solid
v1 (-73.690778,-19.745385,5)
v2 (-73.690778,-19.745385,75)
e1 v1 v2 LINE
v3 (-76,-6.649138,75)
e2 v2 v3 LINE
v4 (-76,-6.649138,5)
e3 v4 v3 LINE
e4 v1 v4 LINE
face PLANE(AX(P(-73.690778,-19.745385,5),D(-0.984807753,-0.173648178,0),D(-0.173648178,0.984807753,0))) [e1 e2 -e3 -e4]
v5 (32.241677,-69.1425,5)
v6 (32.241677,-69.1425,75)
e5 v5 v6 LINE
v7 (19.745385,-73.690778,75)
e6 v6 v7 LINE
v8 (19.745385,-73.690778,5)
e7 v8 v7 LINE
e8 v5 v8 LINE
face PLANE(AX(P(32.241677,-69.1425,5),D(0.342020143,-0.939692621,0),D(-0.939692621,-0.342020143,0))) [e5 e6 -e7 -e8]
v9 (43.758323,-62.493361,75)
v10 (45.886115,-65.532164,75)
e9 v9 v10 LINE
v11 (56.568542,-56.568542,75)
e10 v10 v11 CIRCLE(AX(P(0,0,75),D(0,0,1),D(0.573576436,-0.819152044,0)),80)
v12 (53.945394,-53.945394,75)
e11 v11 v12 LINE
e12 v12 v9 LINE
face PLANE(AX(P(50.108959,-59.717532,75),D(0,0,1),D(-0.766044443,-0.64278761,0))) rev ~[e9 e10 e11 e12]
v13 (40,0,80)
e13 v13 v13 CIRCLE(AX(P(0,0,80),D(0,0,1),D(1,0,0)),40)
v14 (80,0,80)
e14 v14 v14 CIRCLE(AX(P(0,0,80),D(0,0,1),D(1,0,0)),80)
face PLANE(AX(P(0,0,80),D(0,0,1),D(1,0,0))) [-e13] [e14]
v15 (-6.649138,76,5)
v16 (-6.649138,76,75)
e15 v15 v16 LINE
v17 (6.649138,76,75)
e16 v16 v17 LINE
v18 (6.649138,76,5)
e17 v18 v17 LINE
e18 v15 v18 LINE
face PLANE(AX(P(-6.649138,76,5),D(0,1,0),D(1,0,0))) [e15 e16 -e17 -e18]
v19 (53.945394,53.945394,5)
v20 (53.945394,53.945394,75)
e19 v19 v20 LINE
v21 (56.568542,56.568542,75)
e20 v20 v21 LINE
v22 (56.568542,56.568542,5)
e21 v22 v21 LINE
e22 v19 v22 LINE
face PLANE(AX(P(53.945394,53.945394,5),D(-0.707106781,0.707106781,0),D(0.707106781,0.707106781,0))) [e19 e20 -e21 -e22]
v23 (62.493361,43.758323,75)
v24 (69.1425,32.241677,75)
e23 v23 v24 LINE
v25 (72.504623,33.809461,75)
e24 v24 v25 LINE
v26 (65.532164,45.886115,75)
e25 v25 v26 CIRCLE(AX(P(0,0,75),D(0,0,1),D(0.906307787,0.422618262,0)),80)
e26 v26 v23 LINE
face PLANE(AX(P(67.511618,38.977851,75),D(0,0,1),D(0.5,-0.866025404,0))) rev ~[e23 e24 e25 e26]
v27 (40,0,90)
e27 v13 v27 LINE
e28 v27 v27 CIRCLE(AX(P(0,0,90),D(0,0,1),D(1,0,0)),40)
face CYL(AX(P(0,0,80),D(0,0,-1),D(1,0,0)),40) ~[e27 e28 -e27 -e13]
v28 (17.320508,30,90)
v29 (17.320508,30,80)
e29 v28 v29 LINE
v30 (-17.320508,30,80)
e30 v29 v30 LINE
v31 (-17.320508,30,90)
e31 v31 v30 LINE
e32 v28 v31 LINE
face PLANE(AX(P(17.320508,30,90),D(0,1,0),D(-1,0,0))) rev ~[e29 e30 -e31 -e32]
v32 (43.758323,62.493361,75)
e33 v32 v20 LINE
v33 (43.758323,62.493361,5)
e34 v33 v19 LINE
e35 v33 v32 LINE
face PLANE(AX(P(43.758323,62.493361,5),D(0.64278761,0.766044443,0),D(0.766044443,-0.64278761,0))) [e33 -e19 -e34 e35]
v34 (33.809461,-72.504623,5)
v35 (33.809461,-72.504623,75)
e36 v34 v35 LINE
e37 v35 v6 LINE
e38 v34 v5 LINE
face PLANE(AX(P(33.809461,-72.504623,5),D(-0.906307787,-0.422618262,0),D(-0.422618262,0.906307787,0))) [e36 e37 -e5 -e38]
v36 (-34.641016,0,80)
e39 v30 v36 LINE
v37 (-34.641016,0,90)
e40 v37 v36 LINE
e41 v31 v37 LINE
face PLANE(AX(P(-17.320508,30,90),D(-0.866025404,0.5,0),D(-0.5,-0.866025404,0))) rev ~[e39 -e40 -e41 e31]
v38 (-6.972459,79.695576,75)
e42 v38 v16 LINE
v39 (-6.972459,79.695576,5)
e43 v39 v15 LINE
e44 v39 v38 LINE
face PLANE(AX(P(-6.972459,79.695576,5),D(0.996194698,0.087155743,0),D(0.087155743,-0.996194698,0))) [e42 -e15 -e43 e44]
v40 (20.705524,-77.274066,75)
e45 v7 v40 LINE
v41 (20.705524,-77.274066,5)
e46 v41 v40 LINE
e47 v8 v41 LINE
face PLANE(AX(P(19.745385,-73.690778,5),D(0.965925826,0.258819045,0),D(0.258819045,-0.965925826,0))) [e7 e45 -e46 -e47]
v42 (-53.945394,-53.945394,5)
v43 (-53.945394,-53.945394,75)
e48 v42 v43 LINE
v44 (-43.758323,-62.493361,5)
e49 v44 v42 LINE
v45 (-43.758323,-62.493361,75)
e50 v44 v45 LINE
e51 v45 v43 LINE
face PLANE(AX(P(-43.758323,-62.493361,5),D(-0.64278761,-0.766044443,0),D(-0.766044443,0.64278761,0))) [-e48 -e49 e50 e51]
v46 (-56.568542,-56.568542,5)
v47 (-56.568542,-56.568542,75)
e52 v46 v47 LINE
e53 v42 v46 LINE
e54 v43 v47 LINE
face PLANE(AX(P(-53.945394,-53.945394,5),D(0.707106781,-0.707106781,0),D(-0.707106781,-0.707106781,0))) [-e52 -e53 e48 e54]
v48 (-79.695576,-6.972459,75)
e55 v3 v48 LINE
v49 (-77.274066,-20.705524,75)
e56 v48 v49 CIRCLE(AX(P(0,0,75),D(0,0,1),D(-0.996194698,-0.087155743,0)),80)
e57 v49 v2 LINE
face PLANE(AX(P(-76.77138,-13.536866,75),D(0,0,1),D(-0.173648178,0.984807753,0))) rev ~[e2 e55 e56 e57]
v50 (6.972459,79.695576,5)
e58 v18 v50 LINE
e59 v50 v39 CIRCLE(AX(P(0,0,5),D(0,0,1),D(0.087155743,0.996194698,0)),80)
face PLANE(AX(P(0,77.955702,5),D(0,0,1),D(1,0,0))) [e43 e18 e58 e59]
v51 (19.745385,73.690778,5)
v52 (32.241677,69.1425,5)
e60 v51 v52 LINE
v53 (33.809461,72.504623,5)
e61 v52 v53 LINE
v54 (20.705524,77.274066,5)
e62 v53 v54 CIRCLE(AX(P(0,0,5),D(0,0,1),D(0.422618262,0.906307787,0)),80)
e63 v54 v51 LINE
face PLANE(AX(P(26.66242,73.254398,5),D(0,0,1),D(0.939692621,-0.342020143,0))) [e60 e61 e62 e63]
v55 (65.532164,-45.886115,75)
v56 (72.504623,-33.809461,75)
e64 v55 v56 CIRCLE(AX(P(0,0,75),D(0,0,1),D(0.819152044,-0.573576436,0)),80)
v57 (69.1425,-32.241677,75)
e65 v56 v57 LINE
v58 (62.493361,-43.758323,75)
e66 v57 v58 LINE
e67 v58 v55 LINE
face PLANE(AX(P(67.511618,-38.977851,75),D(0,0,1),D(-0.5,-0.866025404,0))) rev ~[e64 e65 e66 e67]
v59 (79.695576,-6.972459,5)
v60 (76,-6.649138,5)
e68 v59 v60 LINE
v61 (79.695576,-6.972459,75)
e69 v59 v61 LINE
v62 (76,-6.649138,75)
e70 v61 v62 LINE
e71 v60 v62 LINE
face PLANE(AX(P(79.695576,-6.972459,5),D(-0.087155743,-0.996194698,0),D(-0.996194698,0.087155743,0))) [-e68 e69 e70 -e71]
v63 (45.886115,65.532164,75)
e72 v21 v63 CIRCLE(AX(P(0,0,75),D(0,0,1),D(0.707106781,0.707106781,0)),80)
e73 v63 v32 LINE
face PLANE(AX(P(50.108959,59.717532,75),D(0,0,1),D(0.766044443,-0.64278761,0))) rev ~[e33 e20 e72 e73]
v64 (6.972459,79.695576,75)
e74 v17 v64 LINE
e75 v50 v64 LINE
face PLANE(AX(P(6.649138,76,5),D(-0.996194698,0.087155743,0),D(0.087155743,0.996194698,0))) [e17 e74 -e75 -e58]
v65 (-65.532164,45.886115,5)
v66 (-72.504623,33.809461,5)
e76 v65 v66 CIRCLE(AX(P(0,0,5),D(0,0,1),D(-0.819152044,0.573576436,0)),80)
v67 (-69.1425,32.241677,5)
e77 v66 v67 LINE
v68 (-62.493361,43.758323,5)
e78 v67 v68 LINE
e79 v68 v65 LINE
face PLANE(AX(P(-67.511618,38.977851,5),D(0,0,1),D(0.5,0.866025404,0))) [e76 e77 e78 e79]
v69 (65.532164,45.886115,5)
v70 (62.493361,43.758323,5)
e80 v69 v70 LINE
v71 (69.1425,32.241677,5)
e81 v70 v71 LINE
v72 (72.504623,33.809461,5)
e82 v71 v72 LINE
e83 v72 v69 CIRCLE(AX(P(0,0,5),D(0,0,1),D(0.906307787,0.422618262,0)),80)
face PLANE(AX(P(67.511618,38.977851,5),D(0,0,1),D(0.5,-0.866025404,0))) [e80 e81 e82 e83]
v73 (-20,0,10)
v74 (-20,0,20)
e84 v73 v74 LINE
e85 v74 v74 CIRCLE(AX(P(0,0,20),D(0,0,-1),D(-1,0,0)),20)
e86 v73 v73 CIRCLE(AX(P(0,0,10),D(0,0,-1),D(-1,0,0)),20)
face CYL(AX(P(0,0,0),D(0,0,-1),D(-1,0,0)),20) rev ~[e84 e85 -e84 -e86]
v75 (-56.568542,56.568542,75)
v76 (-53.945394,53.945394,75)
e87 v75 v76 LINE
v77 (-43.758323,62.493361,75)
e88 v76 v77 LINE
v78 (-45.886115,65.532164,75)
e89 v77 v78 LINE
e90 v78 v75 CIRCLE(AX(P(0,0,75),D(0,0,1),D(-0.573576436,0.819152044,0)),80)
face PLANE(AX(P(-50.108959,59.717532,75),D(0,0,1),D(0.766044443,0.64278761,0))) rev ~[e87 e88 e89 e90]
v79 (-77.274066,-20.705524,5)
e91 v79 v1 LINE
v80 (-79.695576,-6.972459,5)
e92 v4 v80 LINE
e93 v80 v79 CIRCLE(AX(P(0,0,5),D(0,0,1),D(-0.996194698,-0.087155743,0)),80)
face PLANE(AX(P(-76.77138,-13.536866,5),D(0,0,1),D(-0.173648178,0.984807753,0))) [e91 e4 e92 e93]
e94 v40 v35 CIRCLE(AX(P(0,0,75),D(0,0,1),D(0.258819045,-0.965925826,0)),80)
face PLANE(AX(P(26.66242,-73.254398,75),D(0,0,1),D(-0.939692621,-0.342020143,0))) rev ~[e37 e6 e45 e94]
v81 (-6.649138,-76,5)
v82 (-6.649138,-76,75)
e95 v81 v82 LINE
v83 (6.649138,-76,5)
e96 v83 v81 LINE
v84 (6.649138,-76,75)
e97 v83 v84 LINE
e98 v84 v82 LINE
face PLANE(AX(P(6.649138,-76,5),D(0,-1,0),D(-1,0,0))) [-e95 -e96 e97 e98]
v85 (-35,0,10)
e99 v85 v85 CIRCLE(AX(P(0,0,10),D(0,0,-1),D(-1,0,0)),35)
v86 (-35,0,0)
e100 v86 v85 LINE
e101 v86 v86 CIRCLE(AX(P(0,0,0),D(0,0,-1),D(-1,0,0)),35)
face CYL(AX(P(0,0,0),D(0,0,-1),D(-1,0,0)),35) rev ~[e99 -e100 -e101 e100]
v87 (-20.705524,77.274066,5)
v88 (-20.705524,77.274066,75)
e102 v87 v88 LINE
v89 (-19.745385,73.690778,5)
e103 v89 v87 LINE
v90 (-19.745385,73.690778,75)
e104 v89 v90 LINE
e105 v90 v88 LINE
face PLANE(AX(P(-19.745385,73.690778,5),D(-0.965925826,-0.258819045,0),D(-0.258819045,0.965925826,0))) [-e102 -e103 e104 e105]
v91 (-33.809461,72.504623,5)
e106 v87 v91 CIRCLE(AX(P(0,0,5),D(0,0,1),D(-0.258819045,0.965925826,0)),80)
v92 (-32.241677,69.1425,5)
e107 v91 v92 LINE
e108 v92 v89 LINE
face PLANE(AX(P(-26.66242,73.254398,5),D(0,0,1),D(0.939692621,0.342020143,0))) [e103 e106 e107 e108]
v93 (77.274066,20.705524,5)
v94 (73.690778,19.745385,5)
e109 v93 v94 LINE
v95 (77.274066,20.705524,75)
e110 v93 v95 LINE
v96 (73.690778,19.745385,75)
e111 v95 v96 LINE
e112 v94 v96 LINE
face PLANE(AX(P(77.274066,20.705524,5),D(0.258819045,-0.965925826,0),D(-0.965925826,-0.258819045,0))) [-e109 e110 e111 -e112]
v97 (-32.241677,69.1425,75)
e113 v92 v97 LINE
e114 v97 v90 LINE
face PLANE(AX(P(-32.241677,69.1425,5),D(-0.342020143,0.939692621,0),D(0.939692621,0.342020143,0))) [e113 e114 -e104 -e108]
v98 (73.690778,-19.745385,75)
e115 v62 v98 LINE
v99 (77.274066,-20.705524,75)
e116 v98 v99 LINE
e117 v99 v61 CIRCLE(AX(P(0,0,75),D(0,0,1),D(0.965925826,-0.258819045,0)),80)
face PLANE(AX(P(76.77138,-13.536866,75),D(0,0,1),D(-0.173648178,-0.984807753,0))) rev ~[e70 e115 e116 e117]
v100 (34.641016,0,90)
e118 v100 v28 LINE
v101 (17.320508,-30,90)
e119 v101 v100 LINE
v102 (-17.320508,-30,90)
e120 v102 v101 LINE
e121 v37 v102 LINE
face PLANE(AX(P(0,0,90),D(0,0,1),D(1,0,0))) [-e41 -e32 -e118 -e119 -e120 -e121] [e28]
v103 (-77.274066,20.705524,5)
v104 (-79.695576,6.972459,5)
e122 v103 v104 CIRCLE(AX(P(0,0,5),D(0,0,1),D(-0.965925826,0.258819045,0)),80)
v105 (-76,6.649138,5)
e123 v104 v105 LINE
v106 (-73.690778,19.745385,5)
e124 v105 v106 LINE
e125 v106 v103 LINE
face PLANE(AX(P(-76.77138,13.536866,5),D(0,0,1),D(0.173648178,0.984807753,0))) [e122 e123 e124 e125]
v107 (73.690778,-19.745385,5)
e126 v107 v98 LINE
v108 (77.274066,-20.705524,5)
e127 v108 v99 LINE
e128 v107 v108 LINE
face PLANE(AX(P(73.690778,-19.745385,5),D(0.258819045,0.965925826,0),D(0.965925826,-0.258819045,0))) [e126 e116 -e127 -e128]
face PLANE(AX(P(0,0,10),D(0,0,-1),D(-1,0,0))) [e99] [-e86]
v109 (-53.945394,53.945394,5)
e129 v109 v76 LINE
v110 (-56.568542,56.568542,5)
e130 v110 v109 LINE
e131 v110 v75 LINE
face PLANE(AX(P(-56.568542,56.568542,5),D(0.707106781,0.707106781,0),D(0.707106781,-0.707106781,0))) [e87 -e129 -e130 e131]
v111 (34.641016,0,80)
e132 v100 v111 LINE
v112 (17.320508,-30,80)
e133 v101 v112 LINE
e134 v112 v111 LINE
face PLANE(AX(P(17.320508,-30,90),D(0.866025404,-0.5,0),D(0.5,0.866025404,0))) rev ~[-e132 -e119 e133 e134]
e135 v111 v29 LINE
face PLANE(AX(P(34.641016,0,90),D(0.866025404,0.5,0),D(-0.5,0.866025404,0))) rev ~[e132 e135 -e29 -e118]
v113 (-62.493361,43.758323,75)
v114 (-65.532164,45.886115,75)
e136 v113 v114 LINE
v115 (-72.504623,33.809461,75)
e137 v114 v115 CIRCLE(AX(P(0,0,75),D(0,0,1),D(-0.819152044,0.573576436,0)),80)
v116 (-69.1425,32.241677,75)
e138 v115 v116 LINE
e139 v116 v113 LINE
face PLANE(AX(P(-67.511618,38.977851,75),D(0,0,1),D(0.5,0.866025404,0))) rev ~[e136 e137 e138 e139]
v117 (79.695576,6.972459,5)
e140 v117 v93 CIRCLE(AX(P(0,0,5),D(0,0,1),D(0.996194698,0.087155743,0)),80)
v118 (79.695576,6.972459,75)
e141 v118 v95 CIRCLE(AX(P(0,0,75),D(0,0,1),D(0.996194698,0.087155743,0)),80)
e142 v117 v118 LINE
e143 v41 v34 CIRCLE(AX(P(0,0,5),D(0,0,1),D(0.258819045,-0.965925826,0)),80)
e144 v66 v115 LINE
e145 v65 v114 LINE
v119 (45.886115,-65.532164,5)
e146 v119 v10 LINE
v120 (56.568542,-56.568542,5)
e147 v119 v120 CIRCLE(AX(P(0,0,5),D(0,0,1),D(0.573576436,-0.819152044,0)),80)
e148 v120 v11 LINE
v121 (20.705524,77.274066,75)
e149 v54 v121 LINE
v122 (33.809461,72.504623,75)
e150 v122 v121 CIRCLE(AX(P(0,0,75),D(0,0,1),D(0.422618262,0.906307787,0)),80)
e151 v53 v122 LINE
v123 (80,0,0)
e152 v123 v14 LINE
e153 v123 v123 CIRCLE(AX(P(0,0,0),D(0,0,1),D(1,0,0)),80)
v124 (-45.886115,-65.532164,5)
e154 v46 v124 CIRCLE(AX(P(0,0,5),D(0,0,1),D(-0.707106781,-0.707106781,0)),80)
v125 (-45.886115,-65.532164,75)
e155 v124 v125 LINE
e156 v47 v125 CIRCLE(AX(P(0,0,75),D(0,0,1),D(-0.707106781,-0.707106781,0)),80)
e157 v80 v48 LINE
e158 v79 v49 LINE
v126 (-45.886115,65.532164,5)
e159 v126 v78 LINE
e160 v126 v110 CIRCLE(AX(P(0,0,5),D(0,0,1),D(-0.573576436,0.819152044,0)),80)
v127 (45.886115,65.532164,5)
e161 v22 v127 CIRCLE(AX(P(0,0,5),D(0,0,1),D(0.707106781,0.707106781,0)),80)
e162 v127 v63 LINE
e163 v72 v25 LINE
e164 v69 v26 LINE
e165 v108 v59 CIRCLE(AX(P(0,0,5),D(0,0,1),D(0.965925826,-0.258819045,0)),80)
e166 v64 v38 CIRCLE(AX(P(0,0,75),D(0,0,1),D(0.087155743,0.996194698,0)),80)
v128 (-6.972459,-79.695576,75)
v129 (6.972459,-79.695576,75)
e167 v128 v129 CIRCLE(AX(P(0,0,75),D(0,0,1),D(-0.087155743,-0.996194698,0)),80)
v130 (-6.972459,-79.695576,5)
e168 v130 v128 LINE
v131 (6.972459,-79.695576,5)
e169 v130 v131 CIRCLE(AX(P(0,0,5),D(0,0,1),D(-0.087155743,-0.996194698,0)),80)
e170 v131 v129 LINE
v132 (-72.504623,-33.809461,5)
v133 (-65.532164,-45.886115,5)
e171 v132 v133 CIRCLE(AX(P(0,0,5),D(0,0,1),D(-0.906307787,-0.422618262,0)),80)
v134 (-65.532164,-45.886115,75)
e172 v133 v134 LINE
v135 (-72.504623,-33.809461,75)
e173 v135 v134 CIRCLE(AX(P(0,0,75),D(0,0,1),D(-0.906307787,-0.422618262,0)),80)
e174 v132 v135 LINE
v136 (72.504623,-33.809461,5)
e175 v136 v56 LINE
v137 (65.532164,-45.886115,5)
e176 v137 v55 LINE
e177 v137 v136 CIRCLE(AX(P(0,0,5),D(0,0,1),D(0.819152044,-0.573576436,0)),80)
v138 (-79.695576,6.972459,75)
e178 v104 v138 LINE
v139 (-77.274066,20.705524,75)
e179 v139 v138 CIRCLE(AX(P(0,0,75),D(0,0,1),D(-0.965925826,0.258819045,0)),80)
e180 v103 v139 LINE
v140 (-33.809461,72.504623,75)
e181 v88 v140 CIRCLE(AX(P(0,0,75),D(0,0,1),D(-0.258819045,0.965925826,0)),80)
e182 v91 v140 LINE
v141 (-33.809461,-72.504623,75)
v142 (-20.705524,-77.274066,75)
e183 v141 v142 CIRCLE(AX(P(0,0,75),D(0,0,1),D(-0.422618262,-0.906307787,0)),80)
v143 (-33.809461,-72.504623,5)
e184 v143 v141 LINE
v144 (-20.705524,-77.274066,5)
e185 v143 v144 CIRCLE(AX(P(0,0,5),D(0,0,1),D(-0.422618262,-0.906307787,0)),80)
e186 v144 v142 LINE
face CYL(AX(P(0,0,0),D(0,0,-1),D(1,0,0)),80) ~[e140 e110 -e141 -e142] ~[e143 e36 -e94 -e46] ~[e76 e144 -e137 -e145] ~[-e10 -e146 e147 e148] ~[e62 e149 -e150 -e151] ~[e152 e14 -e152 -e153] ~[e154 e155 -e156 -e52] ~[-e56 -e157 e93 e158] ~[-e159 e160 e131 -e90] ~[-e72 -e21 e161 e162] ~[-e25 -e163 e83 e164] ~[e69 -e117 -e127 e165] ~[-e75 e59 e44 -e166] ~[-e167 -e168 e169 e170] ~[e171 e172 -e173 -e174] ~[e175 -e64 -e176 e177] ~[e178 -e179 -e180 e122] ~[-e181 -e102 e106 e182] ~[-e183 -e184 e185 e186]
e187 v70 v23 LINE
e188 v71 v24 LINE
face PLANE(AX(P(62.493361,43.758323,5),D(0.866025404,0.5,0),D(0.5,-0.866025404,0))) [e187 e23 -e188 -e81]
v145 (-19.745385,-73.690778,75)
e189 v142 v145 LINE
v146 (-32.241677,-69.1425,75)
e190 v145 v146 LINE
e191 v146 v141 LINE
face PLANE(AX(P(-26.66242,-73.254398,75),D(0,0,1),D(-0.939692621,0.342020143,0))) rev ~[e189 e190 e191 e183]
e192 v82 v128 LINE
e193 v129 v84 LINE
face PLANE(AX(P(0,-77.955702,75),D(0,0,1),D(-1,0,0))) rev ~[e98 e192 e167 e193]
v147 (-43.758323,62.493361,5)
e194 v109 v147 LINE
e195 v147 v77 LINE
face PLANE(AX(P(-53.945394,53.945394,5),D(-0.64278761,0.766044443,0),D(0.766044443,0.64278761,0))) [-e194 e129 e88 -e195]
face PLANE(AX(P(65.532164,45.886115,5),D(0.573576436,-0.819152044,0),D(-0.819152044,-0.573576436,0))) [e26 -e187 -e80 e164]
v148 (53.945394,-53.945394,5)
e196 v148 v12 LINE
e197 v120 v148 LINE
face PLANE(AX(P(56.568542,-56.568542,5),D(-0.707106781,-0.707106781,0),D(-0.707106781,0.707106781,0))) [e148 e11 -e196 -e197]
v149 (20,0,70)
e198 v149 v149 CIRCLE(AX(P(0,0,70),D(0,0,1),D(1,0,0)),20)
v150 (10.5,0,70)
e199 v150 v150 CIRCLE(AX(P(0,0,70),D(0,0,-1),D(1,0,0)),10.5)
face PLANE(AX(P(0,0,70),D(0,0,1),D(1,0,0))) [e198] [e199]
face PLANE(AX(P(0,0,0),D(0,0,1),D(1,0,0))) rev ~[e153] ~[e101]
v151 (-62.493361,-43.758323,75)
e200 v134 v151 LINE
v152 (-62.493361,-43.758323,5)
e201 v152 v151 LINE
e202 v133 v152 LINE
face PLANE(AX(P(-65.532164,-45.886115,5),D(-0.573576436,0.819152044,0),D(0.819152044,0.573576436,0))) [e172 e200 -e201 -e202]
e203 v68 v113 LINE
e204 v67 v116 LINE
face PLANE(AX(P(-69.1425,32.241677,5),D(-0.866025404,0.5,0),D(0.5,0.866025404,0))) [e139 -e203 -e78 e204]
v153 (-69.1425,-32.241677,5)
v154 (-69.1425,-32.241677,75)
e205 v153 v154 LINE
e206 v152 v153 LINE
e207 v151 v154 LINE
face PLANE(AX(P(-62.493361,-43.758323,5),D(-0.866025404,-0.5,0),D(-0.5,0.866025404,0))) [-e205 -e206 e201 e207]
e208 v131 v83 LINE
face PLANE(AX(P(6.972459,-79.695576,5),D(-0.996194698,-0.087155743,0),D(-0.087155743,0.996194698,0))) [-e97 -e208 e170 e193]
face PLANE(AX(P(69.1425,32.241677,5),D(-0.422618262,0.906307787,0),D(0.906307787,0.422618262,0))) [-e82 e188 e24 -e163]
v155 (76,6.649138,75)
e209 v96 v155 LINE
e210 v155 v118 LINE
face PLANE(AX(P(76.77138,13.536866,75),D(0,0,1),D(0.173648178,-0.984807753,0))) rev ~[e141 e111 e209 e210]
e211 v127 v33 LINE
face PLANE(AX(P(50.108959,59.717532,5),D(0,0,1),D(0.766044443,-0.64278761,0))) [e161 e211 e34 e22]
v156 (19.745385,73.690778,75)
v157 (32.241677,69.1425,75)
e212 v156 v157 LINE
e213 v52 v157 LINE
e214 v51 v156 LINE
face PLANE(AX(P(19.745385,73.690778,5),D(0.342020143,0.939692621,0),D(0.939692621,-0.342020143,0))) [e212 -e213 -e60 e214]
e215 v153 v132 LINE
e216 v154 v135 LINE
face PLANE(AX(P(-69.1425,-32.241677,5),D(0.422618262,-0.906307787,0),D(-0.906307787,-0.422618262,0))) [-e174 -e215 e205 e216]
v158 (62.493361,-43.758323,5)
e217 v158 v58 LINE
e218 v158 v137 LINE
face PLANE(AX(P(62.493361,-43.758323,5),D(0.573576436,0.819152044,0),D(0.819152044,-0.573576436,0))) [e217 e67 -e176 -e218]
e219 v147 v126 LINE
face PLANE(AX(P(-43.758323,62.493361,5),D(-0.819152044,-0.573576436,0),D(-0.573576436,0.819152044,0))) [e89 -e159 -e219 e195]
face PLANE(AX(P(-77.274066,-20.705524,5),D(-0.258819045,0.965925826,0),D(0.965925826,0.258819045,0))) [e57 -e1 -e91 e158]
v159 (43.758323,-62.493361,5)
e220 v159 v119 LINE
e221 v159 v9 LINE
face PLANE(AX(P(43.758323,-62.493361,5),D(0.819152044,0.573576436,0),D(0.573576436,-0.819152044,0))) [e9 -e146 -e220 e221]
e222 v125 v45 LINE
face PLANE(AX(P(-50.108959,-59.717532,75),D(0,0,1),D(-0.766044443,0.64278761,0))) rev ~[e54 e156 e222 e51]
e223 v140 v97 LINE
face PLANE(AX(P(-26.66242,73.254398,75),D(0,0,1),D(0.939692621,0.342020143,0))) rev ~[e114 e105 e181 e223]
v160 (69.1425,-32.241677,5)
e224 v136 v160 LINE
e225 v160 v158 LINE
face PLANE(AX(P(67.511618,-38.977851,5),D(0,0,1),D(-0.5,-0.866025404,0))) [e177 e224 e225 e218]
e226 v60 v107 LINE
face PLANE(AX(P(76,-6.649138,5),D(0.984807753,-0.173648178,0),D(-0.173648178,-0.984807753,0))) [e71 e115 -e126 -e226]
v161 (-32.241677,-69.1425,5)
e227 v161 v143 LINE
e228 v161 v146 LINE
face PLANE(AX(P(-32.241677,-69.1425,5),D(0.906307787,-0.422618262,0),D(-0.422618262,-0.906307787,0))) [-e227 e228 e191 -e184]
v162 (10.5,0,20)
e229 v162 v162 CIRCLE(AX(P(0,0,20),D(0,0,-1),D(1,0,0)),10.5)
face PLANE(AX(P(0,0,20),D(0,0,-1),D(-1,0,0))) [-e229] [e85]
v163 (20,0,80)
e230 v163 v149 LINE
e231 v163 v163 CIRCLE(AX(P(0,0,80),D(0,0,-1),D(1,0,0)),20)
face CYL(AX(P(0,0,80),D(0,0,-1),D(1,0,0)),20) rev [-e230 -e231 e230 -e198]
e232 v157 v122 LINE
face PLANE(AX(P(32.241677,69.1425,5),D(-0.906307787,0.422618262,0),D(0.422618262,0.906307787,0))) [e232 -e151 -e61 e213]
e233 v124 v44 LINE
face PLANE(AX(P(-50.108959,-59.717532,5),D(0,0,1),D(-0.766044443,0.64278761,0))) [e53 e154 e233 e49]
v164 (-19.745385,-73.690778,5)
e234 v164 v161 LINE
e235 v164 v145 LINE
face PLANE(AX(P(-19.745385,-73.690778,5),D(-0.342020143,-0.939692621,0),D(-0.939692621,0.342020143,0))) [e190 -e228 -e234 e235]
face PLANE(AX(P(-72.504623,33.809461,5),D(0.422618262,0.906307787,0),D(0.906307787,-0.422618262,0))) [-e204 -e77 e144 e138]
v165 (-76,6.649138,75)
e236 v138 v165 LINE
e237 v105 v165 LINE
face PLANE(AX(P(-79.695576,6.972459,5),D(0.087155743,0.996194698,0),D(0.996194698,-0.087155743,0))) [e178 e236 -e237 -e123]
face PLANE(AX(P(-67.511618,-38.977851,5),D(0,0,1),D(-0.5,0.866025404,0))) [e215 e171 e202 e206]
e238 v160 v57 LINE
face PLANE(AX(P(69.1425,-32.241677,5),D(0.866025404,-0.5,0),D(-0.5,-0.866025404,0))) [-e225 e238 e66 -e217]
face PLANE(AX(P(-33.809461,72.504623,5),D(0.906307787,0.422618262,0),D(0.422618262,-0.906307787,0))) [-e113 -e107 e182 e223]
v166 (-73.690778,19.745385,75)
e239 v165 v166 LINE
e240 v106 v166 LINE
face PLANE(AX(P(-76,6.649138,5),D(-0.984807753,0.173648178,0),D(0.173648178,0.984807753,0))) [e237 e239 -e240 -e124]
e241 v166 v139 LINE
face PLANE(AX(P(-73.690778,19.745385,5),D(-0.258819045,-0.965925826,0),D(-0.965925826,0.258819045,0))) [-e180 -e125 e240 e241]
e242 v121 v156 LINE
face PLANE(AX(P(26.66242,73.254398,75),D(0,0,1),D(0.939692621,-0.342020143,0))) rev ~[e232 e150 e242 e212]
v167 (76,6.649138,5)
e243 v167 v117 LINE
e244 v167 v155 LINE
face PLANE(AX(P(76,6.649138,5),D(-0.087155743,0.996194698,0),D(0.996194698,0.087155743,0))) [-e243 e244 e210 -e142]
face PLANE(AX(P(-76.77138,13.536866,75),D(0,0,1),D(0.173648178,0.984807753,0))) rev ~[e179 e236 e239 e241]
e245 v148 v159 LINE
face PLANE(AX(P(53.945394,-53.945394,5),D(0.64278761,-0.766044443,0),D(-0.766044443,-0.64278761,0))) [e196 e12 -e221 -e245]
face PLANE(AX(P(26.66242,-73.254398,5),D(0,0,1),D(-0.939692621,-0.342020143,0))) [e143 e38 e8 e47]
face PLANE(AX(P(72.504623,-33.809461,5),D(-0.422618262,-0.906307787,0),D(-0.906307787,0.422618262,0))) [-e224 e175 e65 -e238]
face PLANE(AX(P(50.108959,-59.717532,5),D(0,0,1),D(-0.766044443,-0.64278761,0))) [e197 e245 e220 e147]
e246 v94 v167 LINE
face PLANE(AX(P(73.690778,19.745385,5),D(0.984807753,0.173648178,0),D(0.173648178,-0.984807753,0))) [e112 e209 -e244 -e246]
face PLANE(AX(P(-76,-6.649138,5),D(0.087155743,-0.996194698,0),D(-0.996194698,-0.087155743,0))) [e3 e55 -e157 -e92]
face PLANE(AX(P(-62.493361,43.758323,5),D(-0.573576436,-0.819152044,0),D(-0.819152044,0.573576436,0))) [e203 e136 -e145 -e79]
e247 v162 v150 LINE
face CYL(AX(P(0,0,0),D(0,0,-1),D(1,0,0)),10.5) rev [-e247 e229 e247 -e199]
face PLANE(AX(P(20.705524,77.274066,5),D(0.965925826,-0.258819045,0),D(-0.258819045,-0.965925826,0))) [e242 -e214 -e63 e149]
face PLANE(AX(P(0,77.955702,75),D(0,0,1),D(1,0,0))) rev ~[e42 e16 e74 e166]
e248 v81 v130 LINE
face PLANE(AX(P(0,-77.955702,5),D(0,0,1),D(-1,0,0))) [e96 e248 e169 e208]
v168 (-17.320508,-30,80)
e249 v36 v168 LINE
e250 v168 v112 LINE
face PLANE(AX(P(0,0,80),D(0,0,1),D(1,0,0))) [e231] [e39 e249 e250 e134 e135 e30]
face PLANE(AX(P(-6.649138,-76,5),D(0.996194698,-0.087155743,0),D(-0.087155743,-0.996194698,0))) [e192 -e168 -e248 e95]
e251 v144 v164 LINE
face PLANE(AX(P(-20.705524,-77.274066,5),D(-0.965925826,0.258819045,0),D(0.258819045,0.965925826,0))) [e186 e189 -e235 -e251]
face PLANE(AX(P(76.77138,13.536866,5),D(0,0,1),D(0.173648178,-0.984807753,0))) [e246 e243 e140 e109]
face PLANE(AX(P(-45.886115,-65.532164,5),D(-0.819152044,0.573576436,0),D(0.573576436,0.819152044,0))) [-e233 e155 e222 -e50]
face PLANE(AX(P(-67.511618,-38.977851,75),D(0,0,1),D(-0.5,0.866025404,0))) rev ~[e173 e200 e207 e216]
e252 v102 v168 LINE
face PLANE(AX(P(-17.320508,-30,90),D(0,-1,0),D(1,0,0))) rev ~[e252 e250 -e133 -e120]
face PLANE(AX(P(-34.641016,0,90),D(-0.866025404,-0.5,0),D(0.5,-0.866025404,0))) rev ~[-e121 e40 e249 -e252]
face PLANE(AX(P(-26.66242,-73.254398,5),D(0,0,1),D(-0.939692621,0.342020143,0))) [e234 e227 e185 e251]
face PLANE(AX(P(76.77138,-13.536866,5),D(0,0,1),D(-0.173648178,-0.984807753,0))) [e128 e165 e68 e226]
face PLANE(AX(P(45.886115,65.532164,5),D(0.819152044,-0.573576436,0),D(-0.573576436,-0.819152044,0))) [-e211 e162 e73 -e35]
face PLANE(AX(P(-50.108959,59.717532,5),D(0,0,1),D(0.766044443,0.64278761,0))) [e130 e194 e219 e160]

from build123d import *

# Parameters (mm, degrees)
SKETCH_1_R               = 80
SKETCH_1_R_2             = 10.5
EXTRUDE_1_DEPTH          = 80
SKETCH_2_R               = 20
CUT_EXTRUDE_1_DEPTH      = 10
SKETCH_3_R               = 20
CUT_EXTRUDE_2_DEPTH      = 20
CUT_EXTRUDE_3_DEPTH      = 70
PATTERN_CIRCULAR_1_COUNT = 18
SKETCH_6_R               = 35
CUT_EXTRUDE_4_DEPTH      = 10
SKETCH_7_R               = 40
SKETCH_7_R_2             = 20
EXTRUDE_2_DEPTH          = 10
CUT_EXTRUDE_5_DEPTH      = 10


with BuildPart() as part:
    # 草图1 → 凸台-拉伸1 (new body)
    with BuildSketch(Plane.XY):
        Circle(SKETCH_1_R)
        Circle(SKETCH_1_R_2, mode=Mode.SUBTRACT)
    extrude(amount=EXTRUDE_1_DEPTH)

    # 草图2 → 切除-拉伸1 (cut)
    with BuildSketch(Plane.XY.offset(80)):
        Circle(SKETCH_2_R)
    extrude(amount=-CUT_EXTRUDE_1_DEPTH, mode=Mode.SUBTRACT)

    # 草图3 → 切除-拉伸2 (cut)
    with BuildSketch(Plane(origin=(0, 0, 0), x_dir=(-1, 0, 0), z_dir=(0, 0, -1))):
        Circle(SKETCH_3_R)
    extrude(amount=-CUT_EXTRUDE_2_DEPTH, mode=Mode.SUBTRACT)

    # 草图4 → 切除-拉伸3 (cut)
    with BuildSketch(Plane(origin=(0, 0, 5), x_dir=(-1, 0, 0), z_dir=(0, 0, -1))):
        with BuildLine():
            Line((-6.649138428, 76), (-6.97245942, 79.695575847))
            ThreePointArc((-6.97245942, 79.695575847), (0, 80), (6.97245942, 79.695575847))
            Line((6.97245942, 79.695575847), (6.649138428, 76))
            Line((6.649138428, 76), (-6.649138428, 76))
        make_face()
    cut_extrude_3 = extrude(amount=-CUT_EXTRUDE_3_DEPTH, mode=Mode.SUBTRACT)

    # 阵列(圆周)1: 切除-拉伸3 ×18 about axis
    pattern_circular_1_axis = Axis((0, 0, 0), (0, 0, 1))
    for i in range(1, PATTERN_CIRCULAR_1_COUNT):
        add(cut_extrude_3.rotate(pattern_circular_1_axis, i * 360 / PATTERN_CIRCULAR_1_COUNT), mode=Mode.SUBTRACT)

    # 草图6 → 切除-拉伸4 (cut)
    with BuildSketch(Plane(origin=(0, 0, 0), x_dir=(-1, 0, 0), z_dir=(0, 0, -1))):
        Circle(SKETCH_6_R)
    extrude(amount=-CUT_EXTRUDE_4_DEPTH, mode=Mode.SUBTRACT)

    # 草图7 → 凸台-拉伸2 (add)
    with BuildSketch(Plane.XY.offset(80)):
        Circle(SKETCH_7_R)
        Circle(SKETCH_7_R_2, mode=Mode.SUBTRACT)
    extrude(amount=EXTRUDE_2_DEPTH)

    # 草图8 → 切除-拉伸5 (cut)
    with BuildSketch(Plane.XY.offset(90)):
        Polygon((34.641016151, 0), (17.320508076, 30), (-17.320508076, 30), (-34.641016151, 0), (-17.320508076, -30), (17.320508076, -30), align=None)
    extrude(amount=-CUT_EXTRUDE_5_DEPTH, mode=Mode.SUBTRACT)


solid = part.part
